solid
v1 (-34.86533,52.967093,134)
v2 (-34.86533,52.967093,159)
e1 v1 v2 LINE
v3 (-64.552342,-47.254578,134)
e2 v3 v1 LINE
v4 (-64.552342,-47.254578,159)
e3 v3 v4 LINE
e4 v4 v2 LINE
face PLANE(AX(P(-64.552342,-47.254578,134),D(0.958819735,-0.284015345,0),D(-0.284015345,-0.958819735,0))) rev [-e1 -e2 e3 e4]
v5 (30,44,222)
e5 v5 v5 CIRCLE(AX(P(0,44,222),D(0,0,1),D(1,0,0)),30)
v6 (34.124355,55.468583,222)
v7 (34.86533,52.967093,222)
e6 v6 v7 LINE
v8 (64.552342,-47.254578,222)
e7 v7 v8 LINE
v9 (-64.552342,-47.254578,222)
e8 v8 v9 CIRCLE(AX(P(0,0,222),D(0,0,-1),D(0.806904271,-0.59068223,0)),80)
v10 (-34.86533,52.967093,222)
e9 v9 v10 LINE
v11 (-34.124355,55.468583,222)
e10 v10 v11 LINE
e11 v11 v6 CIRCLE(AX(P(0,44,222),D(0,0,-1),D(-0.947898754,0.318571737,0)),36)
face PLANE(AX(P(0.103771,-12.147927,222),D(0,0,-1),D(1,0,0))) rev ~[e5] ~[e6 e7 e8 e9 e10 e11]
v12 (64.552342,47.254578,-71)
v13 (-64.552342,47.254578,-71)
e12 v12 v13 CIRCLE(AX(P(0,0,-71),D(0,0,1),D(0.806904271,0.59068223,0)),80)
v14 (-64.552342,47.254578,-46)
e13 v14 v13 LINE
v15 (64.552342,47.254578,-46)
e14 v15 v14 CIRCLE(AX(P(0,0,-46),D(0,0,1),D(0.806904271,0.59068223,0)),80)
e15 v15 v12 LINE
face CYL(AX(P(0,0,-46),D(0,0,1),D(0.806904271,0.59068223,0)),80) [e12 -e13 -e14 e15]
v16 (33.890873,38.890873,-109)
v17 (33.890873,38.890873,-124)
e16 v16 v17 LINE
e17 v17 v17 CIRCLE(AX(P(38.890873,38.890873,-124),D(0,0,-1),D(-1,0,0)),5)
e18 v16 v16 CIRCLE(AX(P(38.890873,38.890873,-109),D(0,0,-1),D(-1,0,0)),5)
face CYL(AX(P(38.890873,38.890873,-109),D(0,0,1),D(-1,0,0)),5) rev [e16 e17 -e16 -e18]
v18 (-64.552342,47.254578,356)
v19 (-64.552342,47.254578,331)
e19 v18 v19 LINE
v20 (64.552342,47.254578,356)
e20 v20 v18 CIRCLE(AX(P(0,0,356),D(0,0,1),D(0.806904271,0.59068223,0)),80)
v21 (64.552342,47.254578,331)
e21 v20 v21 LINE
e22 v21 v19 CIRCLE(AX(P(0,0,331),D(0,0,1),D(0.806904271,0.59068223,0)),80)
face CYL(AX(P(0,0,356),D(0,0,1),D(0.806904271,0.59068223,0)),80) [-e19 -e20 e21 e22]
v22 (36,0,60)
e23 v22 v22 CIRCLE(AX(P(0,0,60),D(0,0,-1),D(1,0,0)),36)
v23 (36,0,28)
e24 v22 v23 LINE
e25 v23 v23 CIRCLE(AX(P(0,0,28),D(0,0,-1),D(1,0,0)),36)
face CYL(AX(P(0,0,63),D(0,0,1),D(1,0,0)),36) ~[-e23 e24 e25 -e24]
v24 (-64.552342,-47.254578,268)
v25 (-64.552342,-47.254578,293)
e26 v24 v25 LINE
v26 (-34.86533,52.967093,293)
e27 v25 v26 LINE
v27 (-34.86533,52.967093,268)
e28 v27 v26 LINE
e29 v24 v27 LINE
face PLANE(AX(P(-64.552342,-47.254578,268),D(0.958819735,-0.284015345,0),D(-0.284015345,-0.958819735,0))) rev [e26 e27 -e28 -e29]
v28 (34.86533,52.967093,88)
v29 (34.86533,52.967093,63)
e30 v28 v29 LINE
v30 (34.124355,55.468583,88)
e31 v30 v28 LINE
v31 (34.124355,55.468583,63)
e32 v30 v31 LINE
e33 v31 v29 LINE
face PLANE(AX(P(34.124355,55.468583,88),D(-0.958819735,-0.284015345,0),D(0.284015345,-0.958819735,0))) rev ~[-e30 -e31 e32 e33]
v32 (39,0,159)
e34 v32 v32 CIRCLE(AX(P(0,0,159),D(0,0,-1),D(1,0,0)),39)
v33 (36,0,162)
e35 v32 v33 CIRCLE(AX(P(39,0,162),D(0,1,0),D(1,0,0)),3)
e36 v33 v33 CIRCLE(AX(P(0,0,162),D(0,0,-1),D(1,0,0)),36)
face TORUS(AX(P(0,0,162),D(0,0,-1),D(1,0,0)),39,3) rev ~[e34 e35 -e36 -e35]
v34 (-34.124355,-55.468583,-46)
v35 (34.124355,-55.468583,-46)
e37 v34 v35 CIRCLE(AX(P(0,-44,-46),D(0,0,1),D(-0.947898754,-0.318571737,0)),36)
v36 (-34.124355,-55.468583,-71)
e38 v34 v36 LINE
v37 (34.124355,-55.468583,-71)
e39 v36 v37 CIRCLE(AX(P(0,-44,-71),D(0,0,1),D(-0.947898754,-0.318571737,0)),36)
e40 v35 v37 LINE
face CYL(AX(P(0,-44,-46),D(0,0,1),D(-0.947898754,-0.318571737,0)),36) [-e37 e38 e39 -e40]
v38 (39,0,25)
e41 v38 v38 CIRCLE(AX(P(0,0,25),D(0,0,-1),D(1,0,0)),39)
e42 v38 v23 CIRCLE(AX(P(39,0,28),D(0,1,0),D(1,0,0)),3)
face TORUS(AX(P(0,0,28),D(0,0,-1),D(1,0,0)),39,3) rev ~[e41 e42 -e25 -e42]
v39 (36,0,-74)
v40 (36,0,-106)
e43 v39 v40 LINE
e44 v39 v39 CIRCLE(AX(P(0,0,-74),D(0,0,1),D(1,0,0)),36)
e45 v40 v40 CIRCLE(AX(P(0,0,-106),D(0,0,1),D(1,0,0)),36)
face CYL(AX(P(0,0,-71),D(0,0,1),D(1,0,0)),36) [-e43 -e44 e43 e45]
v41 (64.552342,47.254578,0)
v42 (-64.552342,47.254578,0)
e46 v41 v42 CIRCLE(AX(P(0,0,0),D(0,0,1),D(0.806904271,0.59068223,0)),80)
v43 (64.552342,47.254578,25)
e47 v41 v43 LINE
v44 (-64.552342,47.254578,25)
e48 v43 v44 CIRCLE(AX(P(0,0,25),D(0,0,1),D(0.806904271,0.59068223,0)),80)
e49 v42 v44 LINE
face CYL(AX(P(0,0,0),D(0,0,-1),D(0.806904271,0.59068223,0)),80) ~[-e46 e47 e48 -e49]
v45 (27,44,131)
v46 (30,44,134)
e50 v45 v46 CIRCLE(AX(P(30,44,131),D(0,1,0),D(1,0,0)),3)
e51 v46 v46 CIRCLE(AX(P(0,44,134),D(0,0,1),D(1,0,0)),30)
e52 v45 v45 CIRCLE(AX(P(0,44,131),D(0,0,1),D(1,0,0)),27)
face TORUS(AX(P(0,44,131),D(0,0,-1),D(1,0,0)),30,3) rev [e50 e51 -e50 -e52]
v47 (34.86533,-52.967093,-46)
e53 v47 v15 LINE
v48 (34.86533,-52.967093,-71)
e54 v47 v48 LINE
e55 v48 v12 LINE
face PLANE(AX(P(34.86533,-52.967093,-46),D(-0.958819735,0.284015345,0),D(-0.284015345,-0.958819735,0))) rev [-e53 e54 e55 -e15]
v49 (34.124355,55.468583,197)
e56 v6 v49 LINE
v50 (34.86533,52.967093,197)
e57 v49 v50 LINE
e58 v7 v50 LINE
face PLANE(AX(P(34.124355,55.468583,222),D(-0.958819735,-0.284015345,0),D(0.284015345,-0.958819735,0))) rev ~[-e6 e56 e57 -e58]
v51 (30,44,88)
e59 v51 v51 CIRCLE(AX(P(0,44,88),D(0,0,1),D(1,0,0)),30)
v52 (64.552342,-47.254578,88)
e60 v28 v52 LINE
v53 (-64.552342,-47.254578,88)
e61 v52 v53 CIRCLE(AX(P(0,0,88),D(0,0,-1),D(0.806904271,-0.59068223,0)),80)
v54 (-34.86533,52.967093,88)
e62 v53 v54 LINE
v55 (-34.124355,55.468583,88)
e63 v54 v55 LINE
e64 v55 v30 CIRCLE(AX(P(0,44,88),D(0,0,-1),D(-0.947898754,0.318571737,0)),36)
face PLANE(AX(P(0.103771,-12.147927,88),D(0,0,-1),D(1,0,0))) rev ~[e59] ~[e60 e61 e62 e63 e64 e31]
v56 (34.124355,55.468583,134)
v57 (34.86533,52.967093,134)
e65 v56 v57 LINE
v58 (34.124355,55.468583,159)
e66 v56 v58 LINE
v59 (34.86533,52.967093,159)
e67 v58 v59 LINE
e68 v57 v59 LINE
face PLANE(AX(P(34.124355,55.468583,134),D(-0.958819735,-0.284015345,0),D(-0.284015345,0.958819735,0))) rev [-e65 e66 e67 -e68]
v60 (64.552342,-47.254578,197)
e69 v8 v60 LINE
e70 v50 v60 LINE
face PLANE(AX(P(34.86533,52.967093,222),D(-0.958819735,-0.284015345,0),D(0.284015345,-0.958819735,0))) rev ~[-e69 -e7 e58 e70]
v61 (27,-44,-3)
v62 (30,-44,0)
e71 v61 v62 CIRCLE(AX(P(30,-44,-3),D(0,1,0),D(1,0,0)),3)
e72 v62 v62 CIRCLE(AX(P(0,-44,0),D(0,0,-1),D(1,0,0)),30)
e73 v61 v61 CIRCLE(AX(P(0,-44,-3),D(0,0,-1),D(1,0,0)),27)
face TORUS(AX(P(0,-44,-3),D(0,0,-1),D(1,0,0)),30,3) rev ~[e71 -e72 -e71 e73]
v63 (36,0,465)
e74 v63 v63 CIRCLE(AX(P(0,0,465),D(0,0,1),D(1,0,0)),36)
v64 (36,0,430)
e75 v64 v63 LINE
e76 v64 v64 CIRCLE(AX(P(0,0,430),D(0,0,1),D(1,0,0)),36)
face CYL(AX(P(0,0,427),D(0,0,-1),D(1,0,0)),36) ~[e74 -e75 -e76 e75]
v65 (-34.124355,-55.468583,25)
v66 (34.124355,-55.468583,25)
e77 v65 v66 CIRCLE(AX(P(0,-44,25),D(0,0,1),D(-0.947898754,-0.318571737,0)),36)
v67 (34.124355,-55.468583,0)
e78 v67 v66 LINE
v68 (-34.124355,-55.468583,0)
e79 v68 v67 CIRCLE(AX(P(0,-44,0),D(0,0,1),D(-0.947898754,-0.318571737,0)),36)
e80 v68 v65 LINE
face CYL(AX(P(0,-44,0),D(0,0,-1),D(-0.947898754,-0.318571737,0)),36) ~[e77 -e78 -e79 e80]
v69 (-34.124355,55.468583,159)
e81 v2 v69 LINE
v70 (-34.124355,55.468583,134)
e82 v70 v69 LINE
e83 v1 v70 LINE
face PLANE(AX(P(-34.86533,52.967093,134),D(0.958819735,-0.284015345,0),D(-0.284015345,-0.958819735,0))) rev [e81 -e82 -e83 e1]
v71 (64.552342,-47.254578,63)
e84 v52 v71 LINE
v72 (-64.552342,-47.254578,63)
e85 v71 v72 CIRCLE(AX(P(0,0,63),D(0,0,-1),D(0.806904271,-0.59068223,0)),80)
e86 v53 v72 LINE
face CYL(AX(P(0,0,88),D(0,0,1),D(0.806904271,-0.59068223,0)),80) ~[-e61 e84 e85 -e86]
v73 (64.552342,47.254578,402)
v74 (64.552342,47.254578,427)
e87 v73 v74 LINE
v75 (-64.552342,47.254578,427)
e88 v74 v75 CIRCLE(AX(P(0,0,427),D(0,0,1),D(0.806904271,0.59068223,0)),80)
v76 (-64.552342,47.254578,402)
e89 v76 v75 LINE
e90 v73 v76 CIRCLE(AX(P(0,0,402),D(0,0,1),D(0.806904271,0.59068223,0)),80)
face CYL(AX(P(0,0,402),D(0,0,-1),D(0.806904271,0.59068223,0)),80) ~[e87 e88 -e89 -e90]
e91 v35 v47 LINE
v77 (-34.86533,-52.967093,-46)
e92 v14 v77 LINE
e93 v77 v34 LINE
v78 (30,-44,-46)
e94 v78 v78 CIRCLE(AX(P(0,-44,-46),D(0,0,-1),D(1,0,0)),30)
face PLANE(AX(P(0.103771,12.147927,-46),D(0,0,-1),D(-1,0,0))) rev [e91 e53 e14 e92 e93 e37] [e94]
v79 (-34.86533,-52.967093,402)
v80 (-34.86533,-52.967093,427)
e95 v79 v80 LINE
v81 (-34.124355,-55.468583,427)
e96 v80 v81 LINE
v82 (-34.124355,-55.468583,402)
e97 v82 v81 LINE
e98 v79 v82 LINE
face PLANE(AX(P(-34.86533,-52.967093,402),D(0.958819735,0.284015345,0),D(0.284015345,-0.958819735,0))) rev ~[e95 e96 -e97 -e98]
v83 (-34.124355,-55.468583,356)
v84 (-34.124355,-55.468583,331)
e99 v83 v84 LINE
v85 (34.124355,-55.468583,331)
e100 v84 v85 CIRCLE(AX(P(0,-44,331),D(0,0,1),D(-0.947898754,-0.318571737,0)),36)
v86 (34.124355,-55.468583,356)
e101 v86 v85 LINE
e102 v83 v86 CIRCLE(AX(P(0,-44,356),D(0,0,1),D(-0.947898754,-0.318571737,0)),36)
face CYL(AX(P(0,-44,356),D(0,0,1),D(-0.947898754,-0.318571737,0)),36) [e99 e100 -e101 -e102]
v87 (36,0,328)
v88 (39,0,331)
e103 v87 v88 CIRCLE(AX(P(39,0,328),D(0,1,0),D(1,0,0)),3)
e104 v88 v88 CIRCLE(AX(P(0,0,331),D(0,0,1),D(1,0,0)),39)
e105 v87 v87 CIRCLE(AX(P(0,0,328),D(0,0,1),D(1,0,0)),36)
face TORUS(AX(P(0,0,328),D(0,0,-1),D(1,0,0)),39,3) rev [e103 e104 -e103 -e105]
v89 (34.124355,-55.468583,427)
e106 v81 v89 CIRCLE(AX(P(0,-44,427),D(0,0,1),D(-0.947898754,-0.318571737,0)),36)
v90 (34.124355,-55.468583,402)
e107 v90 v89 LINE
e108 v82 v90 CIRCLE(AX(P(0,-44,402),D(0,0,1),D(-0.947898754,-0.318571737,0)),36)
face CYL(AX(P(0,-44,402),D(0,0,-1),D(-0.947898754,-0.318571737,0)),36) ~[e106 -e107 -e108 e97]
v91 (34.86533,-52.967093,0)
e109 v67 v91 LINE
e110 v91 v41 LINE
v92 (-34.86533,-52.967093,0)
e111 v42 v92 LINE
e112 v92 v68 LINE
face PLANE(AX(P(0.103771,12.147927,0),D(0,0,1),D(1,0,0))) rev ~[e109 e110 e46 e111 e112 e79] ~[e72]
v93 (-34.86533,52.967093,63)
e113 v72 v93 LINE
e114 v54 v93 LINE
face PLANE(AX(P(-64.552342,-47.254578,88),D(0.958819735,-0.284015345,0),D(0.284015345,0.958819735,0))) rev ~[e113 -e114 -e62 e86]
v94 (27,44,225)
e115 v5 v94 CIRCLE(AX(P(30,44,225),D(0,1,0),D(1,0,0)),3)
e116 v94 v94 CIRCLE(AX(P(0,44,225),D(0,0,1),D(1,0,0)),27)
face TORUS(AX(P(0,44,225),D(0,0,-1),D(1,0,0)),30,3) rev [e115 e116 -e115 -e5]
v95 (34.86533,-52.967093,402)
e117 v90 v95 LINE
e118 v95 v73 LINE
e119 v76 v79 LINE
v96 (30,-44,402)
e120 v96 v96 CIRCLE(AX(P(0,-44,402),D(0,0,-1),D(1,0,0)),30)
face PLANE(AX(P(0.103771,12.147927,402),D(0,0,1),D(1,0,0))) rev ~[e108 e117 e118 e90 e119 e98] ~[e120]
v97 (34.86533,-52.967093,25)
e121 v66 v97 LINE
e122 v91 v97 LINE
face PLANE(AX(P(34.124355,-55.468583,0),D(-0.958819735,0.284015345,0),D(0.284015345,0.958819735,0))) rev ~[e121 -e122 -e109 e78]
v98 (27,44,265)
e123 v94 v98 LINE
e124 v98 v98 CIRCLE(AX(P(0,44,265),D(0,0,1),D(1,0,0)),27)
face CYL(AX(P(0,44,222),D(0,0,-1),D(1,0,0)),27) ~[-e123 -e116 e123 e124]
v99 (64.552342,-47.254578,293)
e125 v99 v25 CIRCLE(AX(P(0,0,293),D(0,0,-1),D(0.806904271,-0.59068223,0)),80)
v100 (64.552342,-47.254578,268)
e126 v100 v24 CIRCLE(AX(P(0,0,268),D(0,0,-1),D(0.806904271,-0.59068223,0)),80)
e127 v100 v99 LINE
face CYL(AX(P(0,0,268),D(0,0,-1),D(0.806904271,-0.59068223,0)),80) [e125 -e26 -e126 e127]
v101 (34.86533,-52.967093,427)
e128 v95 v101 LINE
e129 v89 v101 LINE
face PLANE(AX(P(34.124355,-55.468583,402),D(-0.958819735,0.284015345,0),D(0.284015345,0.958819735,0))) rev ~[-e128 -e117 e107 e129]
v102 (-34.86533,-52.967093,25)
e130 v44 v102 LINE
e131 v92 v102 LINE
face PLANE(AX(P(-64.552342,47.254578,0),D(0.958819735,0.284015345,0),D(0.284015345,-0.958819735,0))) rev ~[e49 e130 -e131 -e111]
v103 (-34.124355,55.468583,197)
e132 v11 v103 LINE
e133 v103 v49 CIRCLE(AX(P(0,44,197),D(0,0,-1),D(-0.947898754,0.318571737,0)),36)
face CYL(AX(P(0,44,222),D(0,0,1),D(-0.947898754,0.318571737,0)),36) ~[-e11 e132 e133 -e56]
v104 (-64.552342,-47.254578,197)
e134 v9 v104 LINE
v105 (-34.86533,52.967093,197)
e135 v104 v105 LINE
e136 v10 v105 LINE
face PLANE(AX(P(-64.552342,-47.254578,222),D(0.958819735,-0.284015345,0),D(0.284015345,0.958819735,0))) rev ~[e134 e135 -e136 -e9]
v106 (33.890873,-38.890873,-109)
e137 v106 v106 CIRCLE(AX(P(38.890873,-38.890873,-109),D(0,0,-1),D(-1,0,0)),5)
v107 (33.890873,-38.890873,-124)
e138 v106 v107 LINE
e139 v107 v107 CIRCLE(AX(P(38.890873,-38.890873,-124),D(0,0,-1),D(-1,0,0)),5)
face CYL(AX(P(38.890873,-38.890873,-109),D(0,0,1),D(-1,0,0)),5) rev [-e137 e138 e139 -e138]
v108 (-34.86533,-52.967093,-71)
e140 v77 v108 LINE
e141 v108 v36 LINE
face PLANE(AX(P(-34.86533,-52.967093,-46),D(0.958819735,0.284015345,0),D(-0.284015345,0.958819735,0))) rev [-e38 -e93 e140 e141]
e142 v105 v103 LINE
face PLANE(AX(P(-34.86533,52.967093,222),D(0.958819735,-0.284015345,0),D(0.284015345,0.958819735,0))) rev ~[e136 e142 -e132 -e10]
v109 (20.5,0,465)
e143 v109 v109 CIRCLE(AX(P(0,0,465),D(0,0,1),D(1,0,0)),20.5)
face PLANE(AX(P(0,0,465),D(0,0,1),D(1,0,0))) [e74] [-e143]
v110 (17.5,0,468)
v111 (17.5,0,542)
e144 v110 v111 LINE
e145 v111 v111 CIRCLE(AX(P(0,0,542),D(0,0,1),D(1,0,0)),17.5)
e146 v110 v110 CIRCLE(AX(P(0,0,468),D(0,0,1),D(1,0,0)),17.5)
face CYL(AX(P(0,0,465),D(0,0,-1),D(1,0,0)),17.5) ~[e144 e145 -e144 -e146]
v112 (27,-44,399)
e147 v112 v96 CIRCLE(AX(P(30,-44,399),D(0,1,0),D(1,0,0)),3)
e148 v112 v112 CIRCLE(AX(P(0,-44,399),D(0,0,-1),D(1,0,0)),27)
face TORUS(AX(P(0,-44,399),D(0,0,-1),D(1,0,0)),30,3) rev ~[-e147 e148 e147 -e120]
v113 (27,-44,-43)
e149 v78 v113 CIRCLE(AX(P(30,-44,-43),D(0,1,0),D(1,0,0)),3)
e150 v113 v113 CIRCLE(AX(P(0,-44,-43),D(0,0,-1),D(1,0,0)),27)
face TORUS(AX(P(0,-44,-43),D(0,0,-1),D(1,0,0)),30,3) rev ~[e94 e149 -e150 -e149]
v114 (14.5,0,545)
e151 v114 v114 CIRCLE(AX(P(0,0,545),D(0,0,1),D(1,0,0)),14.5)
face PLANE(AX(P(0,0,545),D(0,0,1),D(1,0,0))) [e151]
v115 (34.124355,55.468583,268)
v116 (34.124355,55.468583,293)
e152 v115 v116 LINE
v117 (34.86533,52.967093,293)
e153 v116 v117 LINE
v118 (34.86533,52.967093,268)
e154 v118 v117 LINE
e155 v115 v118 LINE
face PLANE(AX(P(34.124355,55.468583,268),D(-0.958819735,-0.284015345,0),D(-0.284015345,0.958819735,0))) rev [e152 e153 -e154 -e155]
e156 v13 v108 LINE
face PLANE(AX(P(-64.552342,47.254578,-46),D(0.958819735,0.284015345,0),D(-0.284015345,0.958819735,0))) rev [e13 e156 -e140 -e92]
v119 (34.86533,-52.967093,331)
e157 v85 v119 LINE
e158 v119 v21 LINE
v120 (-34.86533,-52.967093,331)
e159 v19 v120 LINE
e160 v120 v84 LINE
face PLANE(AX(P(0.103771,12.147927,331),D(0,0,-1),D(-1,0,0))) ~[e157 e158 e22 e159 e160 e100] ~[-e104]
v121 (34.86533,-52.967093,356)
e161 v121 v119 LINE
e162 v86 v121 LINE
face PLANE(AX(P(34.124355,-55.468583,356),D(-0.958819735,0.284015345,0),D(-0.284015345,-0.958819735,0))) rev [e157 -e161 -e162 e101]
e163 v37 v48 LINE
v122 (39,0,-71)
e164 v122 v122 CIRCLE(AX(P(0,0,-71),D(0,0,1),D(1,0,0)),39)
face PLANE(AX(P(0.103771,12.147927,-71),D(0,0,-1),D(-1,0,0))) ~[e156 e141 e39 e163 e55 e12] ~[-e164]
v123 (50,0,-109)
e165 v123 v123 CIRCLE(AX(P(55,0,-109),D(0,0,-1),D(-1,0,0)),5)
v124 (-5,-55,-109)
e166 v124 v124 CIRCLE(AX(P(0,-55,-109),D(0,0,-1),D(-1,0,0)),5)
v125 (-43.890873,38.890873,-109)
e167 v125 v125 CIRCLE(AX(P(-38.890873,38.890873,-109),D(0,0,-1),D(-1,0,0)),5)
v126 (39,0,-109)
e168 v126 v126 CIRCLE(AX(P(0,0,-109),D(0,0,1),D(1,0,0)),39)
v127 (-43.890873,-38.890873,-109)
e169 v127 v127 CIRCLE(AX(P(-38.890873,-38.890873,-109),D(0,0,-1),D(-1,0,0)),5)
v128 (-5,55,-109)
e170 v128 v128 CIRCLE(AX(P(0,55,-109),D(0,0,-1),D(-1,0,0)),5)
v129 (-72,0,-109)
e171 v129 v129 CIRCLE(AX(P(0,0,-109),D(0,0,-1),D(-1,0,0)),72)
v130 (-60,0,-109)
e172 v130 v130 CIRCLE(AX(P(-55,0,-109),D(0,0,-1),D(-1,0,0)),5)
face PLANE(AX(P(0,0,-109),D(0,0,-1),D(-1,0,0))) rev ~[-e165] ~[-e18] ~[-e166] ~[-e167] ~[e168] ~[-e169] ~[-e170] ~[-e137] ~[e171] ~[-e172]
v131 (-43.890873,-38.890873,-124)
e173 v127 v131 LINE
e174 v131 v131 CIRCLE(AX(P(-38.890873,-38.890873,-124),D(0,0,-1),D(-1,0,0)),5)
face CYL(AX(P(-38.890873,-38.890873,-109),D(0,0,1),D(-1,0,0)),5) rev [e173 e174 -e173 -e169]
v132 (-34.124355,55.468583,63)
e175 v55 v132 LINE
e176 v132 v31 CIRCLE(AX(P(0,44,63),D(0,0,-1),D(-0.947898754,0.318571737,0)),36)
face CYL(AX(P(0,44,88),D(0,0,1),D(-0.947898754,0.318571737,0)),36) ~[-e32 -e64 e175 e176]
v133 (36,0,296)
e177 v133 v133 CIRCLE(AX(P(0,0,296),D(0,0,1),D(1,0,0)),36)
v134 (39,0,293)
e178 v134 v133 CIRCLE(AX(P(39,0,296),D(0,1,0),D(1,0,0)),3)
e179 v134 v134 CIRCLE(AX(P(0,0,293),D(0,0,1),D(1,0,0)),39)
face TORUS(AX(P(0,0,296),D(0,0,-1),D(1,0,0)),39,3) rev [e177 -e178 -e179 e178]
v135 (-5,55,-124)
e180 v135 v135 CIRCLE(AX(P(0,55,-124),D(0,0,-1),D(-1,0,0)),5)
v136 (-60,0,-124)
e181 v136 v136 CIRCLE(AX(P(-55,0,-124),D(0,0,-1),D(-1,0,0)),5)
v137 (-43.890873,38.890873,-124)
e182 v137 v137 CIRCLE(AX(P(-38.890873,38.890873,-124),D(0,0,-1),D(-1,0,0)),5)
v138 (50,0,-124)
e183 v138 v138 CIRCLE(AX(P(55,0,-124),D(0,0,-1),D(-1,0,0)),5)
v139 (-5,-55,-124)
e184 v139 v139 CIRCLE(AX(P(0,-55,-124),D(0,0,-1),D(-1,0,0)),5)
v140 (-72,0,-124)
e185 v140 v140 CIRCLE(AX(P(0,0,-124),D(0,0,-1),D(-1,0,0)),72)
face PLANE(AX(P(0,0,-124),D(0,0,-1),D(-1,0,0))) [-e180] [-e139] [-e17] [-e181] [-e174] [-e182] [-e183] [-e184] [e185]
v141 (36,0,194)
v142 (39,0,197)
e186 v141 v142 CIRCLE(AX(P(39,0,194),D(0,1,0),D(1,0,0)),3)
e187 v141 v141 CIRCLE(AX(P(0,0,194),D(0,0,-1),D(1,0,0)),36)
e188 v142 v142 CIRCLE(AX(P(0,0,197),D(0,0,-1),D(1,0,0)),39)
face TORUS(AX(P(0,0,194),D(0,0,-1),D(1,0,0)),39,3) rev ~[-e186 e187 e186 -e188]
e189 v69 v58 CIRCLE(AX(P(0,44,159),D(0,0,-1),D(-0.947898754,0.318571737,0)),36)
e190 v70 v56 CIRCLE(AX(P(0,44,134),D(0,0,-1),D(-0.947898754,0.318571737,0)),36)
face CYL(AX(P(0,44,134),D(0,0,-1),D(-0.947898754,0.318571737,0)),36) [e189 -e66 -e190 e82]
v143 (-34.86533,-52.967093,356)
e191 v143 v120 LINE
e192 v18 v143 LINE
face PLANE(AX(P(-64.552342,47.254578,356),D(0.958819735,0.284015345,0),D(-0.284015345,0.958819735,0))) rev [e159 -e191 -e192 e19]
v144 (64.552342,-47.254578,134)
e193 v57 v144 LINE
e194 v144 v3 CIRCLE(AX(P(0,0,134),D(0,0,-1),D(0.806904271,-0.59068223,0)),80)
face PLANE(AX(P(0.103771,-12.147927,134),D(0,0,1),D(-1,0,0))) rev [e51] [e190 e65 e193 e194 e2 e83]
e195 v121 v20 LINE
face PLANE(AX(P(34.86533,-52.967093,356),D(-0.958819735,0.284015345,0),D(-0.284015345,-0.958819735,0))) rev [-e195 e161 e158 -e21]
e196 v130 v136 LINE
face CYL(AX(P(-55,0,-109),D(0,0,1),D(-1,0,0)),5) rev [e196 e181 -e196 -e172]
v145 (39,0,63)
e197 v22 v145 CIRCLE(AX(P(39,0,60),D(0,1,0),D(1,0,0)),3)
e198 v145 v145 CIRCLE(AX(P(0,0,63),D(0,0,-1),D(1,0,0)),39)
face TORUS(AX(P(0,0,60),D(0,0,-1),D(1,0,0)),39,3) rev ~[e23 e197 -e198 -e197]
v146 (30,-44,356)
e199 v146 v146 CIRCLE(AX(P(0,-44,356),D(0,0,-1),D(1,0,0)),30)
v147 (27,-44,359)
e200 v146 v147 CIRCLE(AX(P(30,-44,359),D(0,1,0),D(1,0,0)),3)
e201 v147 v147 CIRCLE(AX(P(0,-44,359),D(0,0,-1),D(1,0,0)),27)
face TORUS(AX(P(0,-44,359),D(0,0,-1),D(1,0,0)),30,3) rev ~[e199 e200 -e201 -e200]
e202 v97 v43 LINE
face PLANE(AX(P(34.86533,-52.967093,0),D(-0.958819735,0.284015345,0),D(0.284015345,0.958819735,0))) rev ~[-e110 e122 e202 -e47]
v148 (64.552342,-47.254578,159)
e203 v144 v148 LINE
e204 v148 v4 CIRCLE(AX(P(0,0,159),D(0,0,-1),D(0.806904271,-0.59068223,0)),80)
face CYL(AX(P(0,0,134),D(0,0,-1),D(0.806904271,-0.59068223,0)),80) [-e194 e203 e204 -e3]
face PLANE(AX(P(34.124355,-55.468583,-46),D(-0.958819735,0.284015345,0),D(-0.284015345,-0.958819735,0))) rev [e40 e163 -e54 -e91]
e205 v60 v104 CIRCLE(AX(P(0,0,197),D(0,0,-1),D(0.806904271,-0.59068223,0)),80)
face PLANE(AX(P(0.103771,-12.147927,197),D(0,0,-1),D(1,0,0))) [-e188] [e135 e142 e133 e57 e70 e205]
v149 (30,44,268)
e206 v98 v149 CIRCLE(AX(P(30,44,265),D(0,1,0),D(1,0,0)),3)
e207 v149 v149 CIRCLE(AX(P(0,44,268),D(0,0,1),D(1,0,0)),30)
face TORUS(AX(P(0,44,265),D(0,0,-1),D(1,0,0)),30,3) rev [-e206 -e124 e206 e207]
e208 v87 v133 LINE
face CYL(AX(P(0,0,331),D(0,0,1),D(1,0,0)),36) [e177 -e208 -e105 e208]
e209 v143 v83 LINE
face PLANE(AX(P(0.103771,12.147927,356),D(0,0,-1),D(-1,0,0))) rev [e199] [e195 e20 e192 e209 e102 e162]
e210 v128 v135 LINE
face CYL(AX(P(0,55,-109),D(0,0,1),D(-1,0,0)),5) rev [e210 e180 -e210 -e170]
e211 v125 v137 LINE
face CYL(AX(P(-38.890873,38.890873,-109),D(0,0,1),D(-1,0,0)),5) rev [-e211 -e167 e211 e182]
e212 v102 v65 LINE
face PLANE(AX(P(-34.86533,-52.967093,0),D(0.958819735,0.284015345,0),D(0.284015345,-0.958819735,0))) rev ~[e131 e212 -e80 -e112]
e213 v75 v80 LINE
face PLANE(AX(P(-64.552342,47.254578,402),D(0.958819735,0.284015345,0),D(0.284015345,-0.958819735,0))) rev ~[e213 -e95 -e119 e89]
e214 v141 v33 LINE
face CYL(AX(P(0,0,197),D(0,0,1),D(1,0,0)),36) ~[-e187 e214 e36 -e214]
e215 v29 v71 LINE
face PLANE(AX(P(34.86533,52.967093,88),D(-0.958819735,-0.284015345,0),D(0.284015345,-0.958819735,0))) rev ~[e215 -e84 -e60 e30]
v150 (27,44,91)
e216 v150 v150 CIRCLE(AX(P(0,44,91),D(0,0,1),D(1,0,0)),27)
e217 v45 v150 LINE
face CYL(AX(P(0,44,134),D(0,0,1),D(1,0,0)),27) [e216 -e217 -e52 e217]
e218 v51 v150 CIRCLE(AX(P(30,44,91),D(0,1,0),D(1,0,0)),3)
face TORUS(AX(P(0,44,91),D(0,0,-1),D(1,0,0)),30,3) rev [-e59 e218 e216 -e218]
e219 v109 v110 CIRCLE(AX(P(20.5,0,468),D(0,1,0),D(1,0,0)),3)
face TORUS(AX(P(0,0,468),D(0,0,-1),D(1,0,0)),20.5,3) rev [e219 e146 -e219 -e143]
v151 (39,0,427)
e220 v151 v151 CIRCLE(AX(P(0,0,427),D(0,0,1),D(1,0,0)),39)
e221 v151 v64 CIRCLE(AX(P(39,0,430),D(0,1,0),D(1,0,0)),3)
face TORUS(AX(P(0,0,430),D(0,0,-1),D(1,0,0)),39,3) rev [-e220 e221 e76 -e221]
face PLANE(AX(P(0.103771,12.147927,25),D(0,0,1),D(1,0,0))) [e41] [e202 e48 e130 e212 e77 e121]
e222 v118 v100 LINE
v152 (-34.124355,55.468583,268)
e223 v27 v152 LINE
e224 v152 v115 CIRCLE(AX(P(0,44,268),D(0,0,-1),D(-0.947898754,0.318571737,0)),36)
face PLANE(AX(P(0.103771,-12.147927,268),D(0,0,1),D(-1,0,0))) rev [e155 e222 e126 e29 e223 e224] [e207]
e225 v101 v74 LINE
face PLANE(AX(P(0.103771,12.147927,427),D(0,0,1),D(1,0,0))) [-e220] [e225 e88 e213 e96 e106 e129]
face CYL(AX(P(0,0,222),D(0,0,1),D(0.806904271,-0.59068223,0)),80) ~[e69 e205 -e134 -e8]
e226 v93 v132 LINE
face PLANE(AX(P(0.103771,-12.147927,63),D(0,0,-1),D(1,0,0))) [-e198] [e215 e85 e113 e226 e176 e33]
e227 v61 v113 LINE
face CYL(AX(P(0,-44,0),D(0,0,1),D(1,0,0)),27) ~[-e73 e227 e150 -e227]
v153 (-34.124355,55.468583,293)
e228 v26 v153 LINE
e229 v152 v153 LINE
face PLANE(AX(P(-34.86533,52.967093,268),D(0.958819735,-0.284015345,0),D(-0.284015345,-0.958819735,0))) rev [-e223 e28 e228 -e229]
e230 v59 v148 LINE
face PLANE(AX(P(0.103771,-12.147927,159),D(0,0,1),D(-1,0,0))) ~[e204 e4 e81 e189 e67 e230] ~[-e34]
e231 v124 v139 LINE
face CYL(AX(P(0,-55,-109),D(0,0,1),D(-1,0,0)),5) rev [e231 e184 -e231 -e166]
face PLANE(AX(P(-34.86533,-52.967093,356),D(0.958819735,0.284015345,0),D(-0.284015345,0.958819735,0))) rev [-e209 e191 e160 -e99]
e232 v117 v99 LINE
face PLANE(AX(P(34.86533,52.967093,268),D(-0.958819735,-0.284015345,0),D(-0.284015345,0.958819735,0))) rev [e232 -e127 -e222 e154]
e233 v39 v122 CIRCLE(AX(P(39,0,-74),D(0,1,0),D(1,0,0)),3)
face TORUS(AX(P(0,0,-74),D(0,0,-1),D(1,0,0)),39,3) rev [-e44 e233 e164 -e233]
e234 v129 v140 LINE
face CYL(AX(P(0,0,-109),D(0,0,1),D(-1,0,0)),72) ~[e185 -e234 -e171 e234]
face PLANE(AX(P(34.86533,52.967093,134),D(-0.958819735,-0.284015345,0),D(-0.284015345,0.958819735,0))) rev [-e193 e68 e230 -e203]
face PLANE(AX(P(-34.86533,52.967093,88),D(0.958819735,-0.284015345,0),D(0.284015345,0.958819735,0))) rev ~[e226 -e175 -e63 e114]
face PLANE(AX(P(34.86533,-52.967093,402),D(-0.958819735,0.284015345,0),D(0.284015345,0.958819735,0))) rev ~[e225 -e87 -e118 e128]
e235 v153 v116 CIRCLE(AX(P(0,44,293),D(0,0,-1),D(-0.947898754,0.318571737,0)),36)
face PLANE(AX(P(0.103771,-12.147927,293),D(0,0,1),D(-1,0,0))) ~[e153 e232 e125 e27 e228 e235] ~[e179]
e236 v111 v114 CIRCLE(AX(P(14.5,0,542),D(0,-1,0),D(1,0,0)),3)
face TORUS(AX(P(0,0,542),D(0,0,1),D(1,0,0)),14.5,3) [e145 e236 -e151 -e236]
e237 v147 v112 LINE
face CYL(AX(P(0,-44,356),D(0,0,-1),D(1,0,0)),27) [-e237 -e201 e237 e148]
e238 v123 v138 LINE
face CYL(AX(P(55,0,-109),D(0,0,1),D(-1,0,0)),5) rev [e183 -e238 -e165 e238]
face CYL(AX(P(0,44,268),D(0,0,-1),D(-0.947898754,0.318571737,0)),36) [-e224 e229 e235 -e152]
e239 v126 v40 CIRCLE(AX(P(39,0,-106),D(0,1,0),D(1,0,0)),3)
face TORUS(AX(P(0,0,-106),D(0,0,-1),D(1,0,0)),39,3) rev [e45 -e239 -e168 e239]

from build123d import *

# Parameters (mm, degrees)
BOSS_EXTRUDE1_DEPTH   = 25
SKETCH2_R             = 27
BOSS_EXTRUDE2_DEPTH   = 46
SKETCH3_R             = 36
BOSS_EXTRUDE3_DEPTH   = 38
BODY_MOVE_COPY2_ANGLE = 180
SKETCH4_R             = 17.5
BOSS_EXTRUDE4_DEPTH   = 80
SKETCH5_R             = 72
SKETCH5_R_2           = 5
BOSS_EXTRUDE5_DEPTH   = 15
FILLET1_R             = 3


with BuildPart() as part:
    # Sketch1 → Boss-Extrude1 (new body)
    with BuildSketch(Plane.XY):
        with BuildLine():
            ThreePointArc((64.55234168, 47.25457844), (0, 80), (-64.55234168, 47.25457844))
            Line((-64.55234168, 47.25457844), (-34.865330037, -52.967093253))
            ThreePointArc((-34.865330037, -52.967093253), (-4.519298544, -8.284793985), (36, -44))
            ThreePointArc((36, -44), (35.715206015, -48.519298544), (34.865330037, -52.967093253))
            Line((34.865330037, -52.967093253), (64.55234168, 47.25457844))
        make_face()
        with BuildLine():
            ThreePointArc((36, -44), (-4.519298544, -8.284793985), (-34.865330037, -52.967093253))
            Line((-34.865330037, -52.967093253), (-34.12435516, -55.468582516))
            ThreePointArc((-34.12435516, -55.468582516), (0, -80), (34.12435516, -55.468582516))
            Line((34.12435516, -55.468582516), (34.865330037, -52.967093253))
            ThreePointArc((34.865330037, -52.967093253), (35.715206015, -48.519298544), (36, -44))
        make_face()
    boss_extrude1 = extrude(amount=BOSS_EXTRUDE1_DEPTH)

    # Sketch2 → Boss-Extrude2 (add)
    with BuildSketch(Plane(origin=(0, 0, 0), x_dir=(-1, 0, 0), z_dir=(0, 0, -1))):
        with Locations(Location((0, -44, 0), (0, 0, 180))):
            Circle(SKETCH2_R)
    extrude(amount=BOSS_EXTRUDE2_DEPTH)

    # Sketch3 → Boss-Extrude3 (add)
    with BuildSketch(Plane.XY.offset(25)):
        Circle(SKETCH3_R)
    boss_extrude3 = extrude(amount=BOSS_EXTRUDE3_DEPTH)

    # Mirror1: Boss-Extrude1, Boss-Extrude3 across plane
    add(boss_extrude1.mirror(Plane(origin=(0, 0, -23), x_dir=(1, 0, 0), z_dir=(0, 0, -1))))
    add(boss_extrude3.mirror(Plane(origin=(0, 0, -23), x_dir=(1, 0, 0), z_dir=(0, 0, -1))))


with BuildPart() as body_2:
    # Mirror2: mirrored copy
    add(part.part.mirror(Plane.XY.offset(44)))


with BuildPart() as body_2_1:
    # Body-Move/Copy2: moved
    add(body_2.part.rotate(Axis((0, 0, 111), (1, 0, 0)), BODY_MOVE_COPY2_ANGLE))


with BuildPart() as body_3:
    # Mirror3: mirrored copy
    add(part.part.mirror(Plane.XY.offset(178)))

    # Sketch4 → Boss-Extrude4 (add)
    with BuildSketch(Plane.XY.offset(465)):
        Circle(SKETCH4_R)
    extrude(amount=BOSS_EXTRUDE4_DEPTH)


with BuildPart() as body_4:
    # Mirror3 2: mirrored copy
    add(body_2_1.part.mirror(Plane.XY.offset(178)))


with BuildPart() as part_1:
    add(part.part)

    # Sketch5 → Boss-Extrude5 (add)
    with BuildSketch(Plane(origin=(0, 0, -109), x_dir=(-1, 0, 0), z_dir=(0, 0, -1))):
        Circle(SKETCH5_R)
        with Locations((0, 55)):
            Circle(SKETCH5_R_2, mode=Mode.SUBTRACT)
        with Locations((38.890872965, 38.890872965)):
            Circle(SKETCH5_R_2, mode=Mode.SUBTRACT)
        with Locations((55, 0)):
            Circle(SKETCH5_R_2, mode=Mode.SUBTRACT)
        with Locations((38.890872965, -38.890872965)):
            Circle(SKETCH5_R_2, mode=Mode.SUBTRACT)
        with Locations((0, -55)):
            Circle(SKETCH5_R_2, mode=Mode.SUBTRACT)
        with Locations((-38.890872965, -38.890872965)):
            Circle(SKETCH5_R_2, mode=Mode.SUBTRACT)
        with Locations((-55, 0)):
            Circle(SKETCH5_R_2, mode=Mode.SUBTRACT)
        with Locations((-38.890872965, 38.890872965)):
            Circle(SKETCH5_R_2, mode=Mode.SUBTRACT)
    extrude(amount=BOSS_EXTRUDE5_DEPTH)


with BuildPart() as body_3_1:
    add(body_3.part)

    # Combine1: union body 4, body 2, part
    add(body_4.part)
    add(body_2_1.part)
    add(part_1.part)

    # Fillet1
    fillet1_edges = [body_3_1.edges().sort_by_distance(p)[0] for p in [
        (-27, -44, 356),
        (-27, -44, 402),
        (-36, 0, 331),
        (-36, 0, 427),
        (-17.5, 0, 465),
        (-17.5, 0, 545),
        (-27, 44, 222),
        (-36, 0, 197),
        (-36, 0, 293),
        (-27, 44, 268),
        (-36, 0, 159),
        (-27, 44, 134),
        (-27, 44, 88),
        (-36, 0, 63),
        (-36, 0, 25),
        (-27, -44, 0),
        (-36, 0, -71),
        (-27, -44, -46),
        (-36, 0, -109),
    ]]
    fillet(fillet1_edges, radius=FILLET1_R)


solid = body_3_1.part
